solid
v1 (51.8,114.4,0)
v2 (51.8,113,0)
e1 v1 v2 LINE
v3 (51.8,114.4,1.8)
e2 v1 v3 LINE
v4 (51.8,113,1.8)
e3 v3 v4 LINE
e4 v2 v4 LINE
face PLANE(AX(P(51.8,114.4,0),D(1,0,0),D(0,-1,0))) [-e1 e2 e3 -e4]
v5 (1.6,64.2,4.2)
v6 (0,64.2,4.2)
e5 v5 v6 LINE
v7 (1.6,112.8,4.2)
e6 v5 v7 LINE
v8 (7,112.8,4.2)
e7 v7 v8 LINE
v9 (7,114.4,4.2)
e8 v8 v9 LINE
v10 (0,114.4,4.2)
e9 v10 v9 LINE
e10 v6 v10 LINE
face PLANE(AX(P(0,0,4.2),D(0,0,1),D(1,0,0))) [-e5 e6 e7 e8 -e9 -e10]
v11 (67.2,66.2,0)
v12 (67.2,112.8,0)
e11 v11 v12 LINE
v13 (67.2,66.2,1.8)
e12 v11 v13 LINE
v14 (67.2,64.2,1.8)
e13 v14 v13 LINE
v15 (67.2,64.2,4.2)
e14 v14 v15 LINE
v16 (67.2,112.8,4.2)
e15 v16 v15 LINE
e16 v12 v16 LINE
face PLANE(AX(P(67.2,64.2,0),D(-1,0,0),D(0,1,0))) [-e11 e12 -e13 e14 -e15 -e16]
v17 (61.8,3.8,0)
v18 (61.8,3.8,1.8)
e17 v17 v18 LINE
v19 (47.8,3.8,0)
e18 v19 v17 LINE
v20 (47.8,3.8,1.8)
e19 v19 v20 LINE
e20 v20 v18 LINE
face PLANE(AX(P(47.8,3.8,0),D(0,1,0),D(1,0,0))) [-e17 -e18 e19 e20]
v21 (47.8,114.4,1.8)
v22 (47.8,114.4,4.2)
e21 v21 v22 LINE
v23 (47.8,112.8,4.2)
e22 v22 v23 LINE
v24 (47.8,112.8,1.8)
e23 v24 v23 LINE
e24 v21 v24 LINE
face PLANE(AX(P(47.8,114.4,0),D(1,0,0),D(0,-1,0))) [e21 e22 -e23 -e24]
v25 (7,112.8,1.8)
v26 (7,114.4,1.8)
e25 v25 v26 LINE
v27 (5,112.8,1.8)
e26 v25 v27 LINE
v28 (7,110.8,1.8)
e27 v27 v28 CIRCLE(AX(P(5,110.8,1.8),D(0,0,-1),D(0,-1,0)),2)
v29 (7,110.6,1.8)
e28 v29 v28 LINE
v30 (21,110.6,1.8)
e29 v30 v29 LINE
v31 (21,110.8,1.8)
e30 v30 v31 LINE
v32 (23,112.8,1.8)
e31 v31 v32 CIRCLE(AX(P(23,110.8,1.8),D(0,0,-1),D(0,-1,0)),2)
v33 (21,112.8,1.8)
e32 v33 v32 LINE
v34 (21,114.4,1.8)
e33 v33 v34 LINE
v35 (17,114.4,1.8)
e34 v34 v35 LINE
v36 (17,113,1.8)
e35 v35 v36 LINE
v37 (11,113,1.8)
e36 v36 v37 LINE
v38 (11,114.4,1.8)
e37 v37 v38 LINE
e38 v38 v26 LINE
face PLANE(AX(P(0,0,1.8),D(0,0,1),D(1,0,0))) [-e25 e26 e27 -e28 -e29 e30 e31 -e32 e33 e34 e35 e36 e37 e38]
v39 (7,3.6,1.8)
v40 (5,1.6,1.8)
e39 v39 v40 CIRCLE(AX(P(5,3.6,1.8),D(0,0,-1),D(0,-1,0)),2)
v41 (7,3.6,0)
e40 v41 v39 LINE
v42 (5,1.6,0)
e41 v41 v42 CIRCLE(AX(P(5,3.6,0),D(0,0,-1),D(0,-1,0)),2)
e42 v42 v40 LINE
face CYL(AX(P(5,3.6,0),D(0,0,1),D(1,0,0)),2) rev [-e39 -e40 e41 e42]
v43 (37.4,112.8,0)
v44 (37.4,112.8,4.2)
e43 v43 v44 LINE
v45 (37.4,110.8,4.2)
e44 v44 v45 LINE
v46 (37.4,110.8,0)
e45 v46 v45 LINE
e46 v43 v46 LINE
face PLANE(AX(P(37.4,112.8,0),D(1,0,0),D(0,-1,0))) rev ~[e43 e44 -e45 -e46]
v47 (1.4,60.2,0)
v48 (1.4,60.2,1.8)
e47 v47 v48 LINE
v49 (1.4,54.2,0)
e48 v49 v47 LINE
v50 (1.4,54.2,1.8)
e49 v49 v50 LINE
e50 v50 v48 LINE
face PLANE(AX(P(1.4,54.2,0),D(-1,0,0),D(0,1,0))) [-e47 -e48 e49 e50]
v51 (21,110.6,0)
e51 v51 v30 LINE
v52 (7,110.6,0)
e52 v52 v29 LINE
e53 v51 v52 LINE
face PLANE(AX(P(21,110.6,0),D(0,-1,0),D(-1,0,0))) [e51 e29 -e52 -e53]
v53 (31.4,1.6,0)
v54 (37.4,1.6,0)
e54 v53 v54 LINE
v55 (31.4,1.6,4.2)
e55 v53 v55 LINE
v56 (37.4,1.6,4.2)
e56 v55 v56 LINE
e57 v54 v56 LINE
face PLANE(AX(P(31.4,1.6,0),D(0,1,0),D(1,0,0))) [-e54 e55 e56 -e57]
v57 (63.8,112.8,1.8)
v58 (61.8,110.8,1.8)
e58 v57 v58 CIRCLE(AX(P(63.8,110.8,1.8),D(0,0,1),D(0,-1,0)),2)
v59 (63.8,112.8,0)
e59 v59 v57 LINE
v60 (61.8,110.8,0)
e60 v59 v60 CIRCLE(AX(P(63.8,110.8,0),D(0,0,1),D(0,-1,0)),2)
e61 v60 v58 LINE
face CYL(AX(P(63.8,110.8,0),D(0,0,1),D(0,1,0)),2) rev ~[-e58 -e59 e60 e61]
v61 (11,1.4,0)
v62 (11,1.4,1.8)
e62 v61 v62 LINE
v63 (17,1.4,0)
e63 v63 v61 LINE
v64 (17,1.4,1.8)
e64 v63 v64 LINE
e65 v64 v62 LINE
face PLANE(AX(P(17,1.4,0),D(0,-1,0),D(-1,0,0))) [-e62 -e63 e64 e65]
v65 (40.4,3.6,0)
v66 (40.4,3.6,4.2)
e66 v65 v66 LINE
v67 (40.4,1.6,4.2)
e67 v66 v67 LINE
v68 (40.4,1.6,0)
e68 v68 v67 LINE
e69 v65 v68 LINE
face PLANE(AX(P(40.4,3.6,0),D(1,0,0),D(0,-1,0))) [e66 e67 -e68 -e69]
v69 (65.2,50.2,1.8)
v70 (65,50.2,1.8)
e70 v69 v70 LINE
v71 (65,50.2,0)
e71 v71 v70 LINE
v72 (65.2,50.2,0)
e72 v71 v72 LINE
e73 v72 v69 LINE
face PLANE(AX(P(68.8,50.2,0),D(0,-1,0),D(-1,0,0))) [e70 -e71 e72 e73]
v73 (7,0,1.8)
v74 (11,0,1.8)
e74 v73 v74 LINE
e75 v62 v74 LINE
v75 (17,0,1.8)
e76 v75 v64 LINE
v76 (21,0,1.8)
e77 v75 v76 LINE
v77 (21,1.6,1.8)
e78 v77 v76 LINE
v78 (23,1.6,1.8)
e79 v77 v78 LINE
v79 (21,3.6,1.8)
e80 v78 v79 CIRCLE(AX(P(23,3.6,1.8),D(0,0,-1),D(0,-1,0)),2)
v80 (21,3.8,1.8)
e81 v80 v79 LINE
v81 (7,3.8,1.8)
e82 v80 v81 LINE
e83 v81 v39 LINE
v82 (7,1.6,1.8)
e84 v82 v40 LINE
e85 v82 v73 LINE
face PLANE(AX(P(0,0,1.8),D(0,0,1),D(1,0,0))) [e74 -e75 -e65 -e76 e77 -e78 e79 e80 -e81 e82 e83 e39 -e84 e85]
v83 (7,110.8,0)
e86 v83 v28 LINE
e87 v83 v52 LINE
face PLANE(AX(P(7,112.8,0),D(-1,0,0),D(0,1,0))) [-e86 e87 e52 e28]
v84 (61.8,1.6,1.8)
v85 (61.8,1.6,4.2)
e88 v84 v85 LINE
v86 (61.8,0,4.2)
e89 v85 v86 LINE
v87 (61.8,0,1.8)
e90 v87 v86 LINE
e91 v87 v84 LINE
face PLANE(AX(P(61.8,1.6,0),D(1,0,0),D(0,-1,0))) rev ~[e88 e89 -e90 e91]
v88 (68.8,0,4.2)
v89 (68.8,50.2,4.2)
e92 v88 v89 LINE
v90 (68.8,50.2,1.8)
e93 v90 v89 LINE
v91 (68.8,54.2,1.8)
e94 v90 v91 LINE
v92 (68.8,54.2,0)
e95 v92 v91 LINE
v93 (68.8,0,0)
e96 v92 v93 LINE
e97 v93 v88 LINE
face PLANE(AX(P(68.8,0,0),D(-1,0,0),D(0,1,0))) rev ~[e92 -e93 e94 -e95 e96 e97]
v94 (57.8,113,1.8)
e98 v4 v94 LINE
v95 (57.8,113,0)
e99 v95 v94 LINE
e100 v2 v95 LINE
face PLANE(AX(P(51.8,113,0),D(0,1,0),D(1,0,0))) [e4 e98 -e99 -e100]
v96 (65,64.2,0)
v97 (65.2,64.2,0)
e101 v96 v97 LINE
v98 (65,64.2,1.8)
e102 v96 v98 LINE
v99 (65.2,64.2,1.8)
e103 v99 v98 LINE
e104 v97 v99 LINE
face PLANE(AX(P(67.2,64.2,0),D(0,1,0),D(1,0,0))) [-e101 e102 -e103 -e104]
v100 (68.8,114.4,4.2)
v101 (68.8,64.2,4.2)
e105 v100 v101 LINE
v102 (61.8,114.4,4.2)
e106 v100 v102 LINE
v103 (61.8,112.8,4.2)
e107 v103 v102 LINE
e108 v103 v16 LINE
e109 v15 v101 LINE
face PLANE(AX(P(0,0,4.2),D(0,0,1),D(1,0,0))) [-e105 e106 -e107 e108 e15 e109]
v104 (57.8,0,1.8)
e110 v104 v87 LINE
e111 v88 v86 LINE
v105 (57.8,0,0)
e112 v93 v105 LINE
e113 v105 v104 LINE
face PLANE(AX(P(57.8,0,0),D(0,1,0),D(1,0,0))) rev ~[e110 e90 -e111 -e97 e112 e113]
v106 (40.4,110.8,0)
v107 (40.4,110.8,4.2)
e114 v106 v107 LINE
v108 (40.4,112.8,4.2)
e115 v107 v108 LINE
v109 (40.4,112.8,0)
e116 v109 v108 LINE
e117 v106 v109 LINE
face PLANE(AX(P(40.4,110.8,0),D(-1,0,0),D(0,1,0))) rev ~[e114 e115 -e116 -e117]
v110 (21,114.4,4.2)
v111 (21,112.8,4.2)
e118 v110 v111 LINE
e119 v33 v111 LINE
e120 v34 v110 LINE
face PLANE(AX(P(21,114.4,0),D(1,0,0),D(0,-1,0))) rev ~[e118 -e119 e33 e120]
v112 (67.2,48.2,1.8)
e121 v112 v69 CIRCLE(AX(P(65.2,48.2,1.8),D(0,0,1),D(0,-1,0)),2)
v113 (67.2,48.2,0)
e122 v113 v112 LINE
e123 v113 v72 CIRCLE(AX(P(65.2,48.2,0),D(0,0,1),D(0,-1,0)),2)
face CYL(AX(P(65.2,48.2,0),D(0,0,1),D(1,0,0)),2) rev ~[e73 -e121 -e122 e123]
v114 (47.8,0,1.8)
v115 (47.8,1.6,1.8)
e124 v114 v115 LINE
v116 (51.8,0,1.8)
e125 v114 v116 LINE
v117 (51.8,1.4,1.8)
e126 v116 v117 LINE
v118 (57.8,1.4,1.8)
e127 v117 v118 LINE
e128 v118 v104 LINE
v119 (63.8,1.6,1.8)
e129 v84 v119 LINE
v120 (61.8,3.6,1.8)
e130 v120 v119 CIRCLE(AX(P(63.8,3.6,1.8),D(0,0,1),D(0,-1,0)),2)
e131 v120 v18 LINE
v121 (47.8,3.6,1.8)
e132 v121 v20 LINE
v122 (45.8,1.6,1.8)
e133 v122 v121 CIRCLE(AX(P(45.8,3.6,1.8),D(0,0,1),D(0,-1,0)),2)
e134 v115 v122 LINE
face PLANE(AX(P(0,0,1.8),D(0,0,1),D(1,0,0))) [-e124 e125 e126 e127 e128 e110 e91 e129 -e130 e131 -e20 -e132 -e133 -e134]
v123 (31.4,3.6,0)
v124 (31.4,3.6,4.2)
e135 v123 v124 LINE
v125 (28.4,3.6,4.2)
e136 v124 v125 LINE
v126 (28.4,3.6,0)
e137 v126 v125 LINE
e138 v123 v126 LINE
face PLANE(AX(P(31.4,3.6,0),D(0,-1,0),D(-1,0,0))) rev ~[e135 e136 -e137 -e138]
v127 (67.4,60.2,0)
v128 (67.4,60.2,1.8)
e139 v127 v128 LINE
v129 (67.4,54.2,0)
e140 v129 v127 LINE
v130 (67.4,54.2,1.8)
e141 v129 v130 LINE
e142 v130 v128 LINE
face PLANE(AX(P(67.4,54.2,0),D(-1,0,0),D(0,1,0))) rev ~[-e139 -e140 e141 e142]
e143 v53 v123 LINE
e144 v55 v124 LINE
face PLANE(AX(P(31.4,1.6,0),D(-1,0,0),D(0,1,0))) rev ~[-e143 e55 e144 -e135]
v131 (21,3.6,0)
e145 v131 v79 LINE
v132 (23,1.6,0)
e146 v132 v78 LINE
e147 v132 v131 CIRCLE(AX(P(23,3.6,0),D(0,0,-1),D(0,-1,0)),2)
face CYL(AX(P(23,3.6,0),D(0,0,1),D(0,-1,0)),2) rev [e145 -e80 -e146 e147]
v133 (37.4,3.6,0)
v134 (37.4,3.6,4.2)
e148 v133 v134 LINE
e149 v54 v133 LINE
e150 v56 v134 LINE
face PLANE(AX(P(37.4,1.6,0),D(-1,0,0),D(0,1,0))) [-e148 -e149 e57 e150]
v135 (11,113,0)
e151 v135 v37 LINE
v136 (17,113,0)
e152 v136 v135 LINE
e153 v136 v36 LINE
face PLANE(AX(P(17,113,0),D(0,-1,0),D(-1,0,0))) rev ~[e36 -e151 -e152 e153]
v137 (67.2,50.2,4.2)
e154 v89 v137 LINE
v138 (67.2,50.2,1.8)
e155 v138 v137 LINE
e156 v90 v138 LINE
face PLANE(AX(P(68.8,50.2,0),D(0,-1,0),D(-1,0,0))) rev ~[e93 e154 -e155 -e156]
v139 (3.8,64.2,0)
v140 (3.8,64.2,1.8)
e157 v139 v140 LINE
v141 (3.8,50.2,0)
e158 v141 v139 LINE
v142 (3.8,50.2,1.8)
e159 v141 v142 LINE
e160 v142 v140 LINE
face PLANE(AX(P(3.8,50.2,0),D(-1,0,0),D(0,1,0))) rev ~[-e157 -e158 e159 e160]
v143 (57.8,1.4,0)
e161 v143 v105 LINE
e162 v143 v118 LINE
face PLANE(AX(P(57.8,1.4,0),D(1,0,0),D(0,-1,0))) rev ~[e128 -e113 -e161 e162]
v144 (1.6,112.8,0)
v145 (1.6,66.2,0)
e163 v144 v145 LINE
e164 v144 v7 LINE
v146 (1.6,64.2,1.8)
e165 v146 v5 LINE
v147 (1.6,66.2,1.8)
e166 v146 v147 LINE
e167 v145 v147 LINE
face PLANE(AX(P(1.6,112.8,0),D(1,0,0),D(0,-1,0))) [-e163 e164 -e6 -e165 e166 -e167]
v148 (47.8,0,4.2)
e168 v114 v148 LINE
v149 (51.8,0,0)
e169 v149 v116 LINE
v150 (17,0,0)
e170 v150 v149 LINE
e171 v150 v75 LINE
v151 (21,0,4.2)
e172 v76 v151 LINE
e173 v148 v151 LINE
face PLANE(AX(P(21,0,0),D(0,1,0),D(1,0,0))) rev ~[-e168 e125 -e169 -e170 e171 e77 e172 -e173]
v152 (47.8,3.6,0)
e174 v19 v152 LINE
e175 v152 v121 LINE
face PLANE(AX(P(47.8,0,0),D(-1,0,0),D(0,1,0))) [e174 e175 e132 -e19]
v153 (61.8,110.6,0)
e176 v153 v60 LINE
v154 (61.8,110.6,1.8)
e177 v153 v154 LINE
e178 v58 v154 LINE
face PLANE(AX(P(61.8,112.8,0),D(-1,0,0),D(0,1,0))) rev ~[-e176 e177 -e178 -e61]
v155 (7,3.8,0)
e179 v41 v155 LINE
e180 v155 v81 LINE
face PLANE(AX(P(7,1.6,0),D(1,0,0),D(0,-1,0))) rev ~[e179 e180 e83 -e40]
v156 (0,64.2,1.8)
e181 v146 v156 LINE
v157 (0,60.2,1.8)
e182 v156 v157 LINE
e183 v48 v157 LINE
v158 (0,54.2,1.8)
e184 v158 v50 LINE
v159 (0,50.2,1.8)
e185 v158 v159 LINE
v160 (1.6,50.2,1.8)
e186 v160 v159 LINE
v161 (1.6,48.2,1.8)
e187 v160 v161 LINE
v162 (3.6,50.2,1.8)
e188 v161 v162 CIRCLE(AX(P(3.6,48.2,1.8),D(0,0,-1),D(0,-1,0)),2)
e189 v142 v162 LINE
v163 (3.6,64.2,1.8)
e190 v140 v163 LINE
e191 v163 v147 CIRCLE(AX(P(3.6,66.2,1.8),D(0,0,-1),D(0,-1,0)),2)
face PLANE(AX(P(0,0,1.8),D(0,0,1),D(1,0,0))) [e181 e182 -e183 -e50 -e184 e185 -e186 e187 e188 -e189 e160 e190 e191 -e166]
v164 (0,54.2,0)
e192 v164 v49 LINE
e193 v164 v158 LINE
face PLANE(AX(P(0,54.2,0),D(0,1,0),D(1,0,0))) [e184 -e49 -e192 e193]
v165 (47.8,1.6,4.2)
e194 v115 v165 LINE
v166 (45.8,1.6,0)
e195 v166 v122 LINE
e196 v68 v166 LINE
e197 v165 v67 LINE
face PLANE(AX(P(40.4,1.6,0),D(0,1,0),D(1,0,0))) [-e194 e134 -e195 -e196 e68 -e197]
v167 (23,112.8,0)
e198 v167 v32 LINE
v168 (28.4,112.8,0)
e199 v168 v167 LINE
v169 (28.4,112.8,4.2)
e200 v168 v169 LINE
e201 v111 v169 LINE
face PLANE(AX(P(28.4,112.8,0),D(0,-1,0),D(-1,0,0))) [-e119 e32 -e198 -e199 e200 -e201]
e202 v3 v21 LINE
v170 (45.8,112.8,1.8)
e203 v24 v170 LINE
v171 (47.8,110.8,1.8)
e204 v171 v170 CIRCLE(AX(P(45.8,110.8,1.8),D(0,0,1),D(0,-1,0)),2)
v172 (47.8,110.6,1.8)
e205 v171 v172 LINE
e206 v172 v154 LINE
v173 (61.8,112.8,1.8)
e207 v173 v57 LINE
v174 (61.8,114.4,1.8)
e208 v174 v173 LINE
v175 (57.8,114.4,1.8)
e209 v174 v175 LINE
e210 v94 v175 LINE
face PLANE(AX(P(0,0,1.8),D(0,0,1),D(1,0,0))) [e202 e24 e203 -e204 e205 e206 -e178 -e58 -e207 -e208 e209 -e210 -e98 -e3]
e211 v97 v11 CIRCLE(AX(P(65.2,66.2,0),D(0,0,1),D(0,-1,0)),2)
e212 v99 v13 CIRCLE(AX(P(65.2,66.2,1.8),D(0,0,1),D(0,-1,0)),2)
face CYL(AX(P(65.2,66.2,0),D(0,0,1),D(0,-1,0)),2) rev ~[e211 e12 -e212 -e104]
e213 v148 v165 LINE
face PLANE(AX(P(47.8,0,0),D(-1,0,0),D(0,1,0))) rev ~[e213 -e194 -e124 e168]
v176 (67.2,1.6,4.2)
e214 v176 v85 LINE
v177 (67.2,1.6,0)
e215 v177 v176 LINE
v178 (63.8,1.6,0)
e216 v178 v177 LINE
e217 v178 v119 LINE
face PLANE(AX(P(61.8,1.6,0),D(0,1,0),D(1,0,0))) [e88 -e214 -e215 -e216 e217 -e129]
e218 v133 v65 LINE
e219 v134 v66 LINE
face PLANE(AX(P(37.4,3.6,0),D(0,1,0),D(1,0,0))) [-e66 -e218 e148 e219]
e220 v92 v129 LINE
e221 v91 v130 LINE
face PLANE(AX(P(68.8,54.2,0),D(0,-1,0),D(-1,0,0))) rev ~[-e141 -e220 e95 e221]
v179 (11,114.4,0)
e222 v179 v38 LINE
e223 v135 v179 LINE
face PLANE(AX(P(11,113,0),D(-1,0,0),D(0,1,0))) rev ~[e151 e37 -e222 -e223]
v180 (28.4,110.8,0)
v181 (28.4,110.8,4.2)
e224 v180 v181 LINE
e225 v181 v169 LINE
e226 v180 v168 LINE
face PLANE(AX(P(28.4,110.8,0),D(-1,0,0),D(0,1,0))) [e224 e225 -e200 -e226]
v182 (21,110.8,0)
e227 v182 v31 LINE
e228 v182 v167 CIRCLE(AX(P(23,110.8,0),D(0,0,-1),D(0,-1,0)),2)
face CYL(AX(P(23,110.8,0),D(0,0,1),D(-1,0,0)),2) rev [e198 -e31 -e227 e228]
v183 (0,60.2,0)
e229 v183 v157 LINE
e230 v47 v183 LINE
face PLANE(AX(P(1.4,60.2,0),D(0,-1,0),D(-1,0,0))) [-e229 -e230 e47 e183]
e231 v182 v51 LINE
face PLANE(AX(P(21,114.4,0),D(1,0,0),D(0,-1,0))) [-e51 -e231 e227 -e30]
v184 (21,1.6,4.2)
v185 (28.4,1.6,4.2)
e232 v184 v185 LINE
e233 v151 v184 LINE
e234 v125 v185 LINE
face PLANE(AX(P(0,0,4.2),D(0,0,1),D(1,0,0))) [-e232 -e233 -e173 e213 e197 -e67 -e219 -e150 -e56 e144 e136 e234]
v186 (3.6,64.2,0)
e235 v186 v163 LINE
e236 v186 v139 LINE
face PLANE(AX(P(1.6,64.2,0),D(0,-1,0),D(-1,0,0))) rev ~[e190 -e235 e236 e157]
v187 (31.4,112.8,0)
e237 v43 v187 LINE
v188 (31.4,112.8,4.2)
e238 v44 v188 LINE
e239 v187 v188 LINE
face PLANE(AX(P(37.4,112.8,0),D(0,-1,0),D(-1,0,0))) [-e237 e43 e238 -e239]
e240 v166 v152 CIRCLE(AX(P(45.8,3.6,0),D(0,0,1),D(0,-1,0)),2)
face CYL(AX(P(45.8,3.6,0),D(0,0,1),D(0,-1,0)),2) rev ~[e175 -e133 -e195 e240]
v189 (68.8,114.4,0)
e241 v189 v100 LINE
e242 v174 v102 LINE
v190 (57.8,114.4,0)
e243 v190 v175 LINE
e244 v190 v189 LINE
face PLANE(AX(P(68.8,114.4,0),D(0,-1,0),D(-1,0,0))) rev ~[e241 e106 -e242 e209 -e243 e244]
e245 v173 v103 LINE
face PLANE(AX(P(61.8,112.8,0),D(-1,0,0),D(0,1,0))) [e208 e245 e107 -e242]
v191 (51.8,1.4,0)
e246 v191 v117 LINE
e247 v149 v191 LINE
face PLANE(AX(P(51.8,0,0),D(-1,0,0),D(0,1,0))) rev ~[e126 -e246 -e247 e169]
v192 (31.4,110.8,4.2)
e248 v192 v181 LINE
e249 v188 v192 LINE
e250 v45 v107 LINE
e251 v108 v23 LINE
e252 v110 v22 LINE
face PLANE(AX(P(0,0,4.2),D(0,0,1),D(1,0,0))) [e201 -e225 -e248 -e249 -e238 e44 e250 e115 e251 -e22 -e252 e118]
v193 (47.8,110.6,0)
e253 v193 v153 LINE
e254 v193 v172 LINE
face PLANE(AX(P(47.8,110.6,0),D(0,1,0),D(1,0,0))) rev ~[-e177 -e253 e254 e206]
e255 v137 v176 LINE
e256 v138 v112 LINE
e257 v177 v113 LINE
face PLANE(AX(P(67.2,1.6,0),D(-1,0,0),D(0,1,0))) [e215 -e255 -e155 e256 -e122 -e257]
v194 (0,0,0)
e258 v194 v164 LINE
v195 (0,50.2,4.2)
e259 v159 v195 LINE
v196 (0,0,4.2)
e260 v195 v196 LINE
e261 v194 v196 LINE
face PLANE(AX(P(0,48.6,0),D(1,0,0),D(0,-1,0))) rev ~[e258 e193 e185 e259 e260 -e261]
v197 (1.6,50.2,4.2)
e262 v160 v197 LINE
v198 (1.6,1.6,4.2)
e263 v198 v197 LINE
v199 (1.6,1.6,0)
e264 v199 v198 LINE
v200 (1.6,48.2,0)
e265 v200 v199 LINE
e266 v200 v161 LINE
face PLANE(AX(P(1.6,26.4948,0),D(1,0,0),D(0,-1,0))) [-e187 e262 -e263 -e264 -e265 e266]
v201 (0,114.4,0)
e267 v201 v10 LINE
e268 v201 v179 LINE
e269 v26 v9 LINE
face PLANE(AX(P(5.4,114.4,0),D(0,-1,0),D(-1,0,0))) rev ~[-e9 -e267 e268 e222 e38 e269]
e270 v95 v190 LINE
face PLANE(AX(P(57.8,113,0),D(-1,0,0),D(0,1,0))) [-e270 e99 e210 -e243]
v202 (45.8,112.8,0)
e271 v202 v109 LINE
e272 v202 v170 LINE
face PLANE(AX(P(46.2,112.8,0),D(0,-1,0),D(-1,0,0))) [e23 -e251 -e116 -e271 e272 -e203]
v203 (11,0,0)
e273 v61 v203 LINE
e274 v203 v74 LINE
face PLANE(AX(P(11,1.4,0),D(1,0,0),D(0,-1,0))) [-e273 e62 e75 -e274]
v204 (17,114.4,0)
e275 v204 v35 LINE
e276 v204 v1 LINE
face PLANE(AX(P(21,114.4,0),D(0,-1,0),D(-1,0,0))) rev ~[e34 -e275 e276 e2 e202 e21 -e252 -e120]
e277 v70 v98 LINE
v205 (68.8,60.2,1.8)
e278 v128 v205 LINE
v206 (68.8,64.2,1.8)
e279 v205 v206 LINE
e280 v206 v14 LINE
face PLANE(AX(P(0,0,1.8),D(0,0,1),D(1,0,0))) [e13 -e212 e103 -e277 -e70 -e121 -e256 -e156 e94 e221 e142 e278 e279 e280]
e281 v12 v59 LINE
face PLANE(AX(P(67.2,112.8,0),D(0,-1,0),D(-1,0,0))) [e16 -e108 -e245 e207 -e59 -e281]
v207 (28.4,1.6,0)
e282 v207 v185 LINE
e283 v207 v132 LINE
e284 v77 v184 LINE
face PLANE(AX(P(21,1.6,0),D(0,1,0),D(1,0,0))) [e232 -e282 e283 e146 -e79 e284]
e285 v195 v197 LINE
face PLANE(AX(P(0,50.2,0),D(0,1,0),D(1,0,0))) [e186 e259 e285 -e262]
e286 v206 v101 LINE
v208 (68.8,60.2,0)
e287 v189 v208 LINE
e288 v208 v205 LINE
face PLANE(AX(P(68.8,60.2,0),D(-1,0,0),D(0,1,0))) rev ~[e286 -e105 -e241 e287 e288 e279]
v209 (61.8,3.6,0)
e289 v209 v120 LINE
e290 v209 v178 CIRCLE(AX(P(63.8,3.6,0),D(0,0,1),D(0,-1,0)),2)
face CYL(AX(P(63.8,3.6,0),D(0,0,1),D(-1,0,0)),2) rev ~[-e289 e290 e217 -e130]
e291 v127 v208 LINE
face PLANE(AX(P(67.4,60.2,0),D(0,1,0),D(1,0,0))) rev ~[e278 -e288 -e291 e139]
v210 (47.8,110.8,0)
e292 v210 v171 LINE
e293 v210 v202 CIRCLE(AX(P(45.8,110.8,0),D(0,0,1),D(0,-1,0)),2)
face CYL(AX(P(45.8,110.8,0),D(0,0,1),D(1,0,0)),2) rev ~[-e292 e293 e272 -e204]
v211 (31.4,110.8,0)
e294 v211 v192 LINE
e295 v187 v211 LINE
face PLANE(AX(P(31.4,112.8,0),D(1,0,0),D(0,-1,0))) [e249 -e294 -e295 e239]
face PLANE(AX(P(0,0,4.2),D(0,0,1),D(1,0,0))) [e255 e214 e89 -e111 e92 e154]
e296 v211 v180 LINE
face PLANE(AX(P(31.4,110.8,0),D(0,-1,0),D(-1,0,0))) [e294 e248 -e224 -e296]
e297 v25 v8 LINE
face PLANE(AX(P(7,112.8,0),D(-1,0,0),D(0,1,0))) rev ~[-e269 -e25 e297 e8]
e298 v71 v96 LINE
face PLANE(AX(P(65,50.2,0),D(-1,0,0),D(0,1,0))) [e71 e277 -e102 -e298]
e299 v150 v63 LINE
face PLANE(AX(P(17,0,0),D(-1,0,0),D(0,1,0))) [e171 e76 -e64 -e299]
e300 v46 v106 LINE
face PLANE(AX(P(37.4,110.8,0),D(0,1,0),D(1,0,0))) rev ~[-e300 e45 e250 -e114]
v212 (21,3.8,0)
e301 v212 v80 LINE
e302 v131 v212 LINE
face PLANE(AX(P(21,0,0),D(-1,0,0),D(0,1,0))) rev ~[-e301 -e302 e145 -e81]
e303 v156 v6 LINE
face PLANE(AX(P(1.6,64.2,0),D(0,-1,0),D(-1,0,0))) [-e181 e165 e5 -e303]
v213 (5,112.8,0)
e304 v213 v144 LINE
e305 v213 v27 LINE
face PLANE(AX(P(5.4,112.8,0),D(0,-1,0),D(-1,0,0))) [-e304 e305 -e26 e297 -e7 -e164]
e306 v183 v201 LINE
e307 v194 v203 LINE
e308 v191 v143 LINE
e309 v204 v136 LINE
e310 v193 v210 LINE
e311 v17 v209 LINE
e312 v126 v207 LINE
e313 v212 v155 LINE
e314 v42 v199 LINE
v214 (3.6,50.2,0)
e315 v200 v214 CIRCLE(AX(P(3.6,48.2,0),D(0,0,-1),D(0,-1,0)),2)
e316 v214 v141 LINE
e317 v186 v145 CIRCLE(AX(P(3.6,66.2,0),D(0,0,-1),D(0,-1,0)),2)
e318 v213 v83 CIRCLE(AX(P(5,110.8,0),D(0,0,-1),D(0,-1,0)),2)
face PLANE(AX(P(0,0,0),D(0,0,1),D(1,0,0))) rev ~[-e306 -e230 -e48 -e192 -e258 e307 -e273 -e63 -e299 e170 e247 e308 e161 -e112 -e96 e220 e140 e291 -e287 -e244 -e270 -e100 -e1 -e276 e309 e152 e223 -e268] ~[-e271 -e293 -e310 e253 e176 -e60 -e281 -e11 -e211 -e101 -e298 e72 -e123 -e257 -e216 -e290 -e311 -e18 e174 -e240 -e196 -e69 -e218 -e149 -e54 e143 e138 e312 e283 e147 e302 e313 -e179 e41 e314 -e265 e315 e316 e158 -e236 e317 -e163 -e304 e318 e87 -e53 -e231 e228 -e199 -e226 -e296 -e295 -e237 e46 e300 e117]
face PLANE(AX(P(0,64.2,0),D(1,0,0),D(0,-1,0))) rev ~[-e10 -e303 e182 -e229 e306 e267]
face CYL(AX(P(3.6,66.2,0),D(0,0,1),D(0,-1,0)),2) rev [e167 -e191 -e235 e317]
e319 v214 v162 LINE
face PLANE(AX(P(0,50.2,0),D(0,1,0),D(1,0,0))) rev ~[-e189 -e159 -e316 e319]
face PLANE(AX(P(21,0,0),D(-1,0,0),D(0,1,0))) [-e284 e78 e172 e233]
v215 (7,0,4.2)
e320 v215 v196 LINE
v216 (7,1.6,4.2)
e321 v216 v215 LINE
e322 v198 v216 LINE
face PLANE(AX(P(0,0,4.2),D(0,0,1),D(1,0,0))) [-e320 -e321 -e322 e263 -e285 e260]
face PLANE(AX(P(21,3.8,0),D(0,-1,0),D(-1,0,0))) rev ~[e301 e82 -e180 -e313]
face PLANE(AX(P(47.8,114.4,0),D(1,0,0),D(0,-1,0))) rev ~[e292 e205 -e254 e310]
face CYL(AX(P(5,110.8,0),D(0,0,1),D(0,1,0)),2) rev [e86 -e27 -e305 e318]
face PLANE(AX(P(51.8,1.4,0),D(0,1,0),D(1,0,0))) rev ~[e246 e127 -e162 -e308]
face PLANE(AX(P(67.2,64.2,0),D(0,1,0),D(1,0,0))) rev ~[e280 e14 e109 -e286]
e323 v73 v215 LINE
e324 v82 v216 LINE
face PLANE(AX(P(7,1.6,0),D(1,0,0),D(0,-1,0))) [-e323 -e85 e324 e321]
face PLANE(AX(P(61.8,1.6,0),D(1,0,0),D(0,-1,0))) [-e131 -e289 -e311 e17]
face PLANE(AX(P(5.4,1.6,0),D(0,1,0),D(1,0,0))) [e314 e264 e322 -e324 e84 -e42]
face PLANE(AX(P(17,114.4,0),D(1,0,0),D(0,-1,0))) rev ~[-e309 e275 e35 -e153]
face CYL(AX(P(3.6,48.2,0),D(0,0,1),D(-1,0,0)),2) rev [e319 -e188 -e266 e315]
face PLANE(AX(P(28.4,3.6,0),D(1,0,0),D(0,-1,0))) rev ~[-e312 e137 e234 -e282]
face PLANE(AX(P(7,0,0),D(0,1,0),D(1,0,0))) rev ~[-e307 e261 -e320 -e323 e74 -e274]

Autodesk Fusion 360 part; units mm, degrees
sketch "Sketch1" plane through (0, 0, 0) normal (0, 0, 1) x (1, 0, 0)
  line L0 (21, 0) -> (21, 3.8)
  line L1 (21, 3.8) -> (7, 3.8)
  line L2 (7, 3.8) -> (7, 0)
  line L3 (17, 0) -> (17, 1.4)
  line L4 (17, 1.4) -> (11, 1.4)
  line L5 (11, 1.4) -> (11, 0)
  line L6 (0, 57.2) -> (68.8, 57.2) construction
  line L7 (34.4, 114.4) -> (34.4, 0) construction
  line L8 (47.8, 0) -> (47.8, 3.8)
  line L9 (47.8, 3.8) -> (61.8, 3.8)
  line L10 (61.8, 3.8) -> (61.8, 0)
  line L11 (51.8, 1.4) -> (57.8, 1.4)
  line L12 (57.8, 1.4) -> (57.8, 0)
  line L13 (51.8, 0) -> (51.8, 1.4)
  line L14 (7, 110.6) -> (7, 114.4)
  line L15 (21, 110.6) -> (7, 110.6)
  line L16 (21, 114.4) -> (21, 110.6)
  line L17 (17, 113) -> (11, 113)
  line L18 (11, 113) -> (11, 114.4)
  line L19 (17, 114.4) -> (17, 113)
  line L20 (47.8, 114.4) -> (47.8, 110.6)
  line L21 (47.8, 110.6) -> (61.8, 110.6)
  line L22 (51.8, 113) -> (57.8, 113)
  line L23 (51.8, 114.4) -> (51.8, 113)
  line L24 (57.8, 113) -> (57.8, 114.4)
  line L25 (61.8, 110.6) -> (61.8, 114.4)
  line L26 (68.8, 54.2) -> (67.4, 54.2)
  line L27 (67.4, 54.2) -> (67.4, 60.2)
  line L28 (67.4, 60.2) -> (68.8, 60.2)
  line L29 (68.8, 50.2) -> (65, 50.2)
  line L30 (65, 50.2) -> (65, 64.2)
  line L31 (65, 64.2) -> (68.8, 64.2)
  line L32 (3.8, 64.2) -> (0, 64.2)
  line L33 (3.8, 50.2) -> (3.8, 64.2)
  line L34 (0, 50.2) -> (3.8, 50.2)
  line L35 (0, 54.2) -> (1.4, 54.2)
  line L36 (1.4, 54.2) -> (1.4, 60.2)
  line L37 (1.4, 60.2) -> (0, 60.2)
  line L38 (7, 0) -> (11, 0)
  line L39 (17, 0) -> (21, 0)
  line L40 (0, 0) -> (11, 0)
  line L41 (17, 0) -> (51.8, 0)
  line L42 (57.8, 0) -> (68.8, 0)
  line L43 (68.8, 0) -> (68.8, 54.2)
  line L44 (68.8, 60.2) -> (68.8, 114.4)
  line L45 (68.8, 64.2) -> (68.8, 60.2)
  line L46 (68.8, 54.2) -> (68.8, 50.2)
  line L47 (0, 114.4) -> (0, 60.2)
  line L48 (0, 54.2) -> (0, 0)
  line L49 (11, 114.4) -> (0, 114.4)
  line L50 (68.8, 114.4) -> (57.8, 114.4)
  line L51 (51.8, 114.4) -> (17, 114.4)
  line L52 (18.6, 1.6) -> (50.2, 1.6)
  line L53 (50.2, 1.6) -> (50.2, 3)
  line L54 (50.2, 3) -> (59.4, 3)
  line L55 (59.4, 3) -> (59.4, 1.6)
  line L56 (59.4, 1.6) -> (67.2, 1.6)
  line L57 (67.2, 1.6) -> (67.2, 52.6)
  line L58 (67.2, 52.6) -> (65.8, 52.6)
  line L59 (65.8, 52.6) -> (65.8, 61.8)
  line L60 (65.8, 61.8) -> (67.2, 61.8)
  line L61 (67.2, 61.8) -> (67.2, 112.8)
  line L62 (67.2, 112.8) -> (59.4, 112.8)
  line L63 (18.6, 1.6) -> (18.6, 3)
  line L64 (18.6, 3) -> (9.4, 3)
  line L65 (9.4, 3) -> (9.4, 1.6)
  line L66 (8.5, 1.6) -> (9.4, 1.6)
  line L67 (1.6, 52.6) -> (1.6, 1.6)
  line L68 (1.6, 1.6) -> (9.4, 1.6)
  line L69 (1.6, 52.6) -> (3, 52.6)
  line L70 (3, 52.6) -> (3, 61.8)
  line L71 (3, 61.8) -> (1.6, 61.8)
  line L72 (1.6, 112.8) -> (1.6, 61.8)
  line L73 (67.2, 112.8) -> (59.4, 112.8)
  line L74 (59.4, 111.4) -> (59.4, 112.8)
  line L75 (50.2, 111.4) -> (59.4, 111.4)
  line L76 (50.2, 112.8) -> (50.2, 111.4)
  line L77 (50.2, 112.8) -> (18.6, 112.8)
  line L78 (18.6, 112.8) -> (18.6, 111.4)
  line L79 (18.6, 111.4) -> (9.4, 111.4)
  line L80 (9.4, 111.4) -> (9.4, 112.8)
  line L81 (9.4, 112.8) -> (1.6, 112.8)
  line L82 (22.6, 114.4) -> (22.6, 109)
  line L83 (22.6, 109) -> (5.4, 109)
  line L84 (5.4, 109) -> (5.4, 114.4)
  line L85 (46.2, 114.4) -> (46.2, 109)
  line L86 (46.2, 109) -> (63.4, 109)
  line L87 (63.4, 109) -> (63.4, 114.4)
  line L88 (68.8, 48.6) -> (63.4, 48.6)
  line L89 (63.4, 48.6) -> (63.4, 65.8)
  line L90 (63.4, 65.8) -> (68.8, 65.8)
  line L91 (46.2, 0) -> (46.2, 5.4)
  line L92 (46.2, 5.4) -> (63.4, 5.4)
  line L93 (63.4, 5.4) -> (63.4, 0)
  line L94 (22.6, 0) -> (22.6, 5.4)
  line L95 (22.6, 5.4) -> (5.4, 5.4)
  line L96 (5.4, 5.4) -> (5.4, 0)
  line L97 (0, 48.6) -> (5.4, 48.6)
  line L98 (5.4, 48.6) -> (5.4, 65.8)
  line L99 (5.4, 65.8) -> (0, 65.8)
  line L100 (1.6, 29.4948) -> (3.6, 29.4948)
  line L101 (3.6, 29.4948) -> (3.6, 26.4948)
  line L102 (3.6, 26.4948) -> (1.6, 26.4948)
  line L103 (1.6, 26.4948) -> (1.6, 29.4948)
  line L104 (67.2, 29.4948) -> (65.2, 29.4948)
  line L105 (65.2, 29.4948) -> (65.2, 26.4948)
  line L106 (65.2, 26.4948) -> (67.2, 26.4948)
  line L107 (67.2, 84.9052) -> (65.2, 84.9052)
  line L108 (65.2, 84.9052) -> (65.2, 87.9052)
  line L109 (65.2, 87.9052) -> (67.2, 87.9052)
  line L110 (3.6, 84.9052) -> (3.6, 87.9052)
  line L111 (1.6, 84.9052) -> (3.6, 84.9052)
  line L112 (3.6, 87.9052) -> (1.6, 87.9052)
  line L113 (28.4, 112.8) -> (31.4, 112.8)
  line L114 (31.4, 112.8) -> (31.4, 110.8)
  line L115 (31.4, 110.8) -> (28.4, 110.8)
  line L116 (28.4, 110.8) -> (28.4, 112.8)
  line L117 (28.4, 3.6) -> (28.4, 1.6)
  line L118 (31.4, 3.6) -> (28.4, 3.6)
  line L119 (31.4, 1.6) -> (31.4, 3.6)
  line L120 (37.4, 110.8) -> (40.4, 110.8)
  line L121 (40.4, 110.8) -> (40.4, 112.8)
  line L122 (37.4, 112.8) -> (37.4, 110.8)
  line L123 (37.4, 1.6) -> (37.4, 3.6)
  line L124 (37.4, 3.6) -> (40.4, 3.6)
  line L125 (40.4, 3.6) -> (40.4, 1.6)
  point P0 (14, 0)
  point P1 (14, 0)
  point P2 (7, 0)
  point P3 (14, 0)
  point P4 (68.8, 50.2)
  dimension "d10" = 68.8
  dimension "d11" = 114.4
  dimension "d12" = 14
  dimension "d13" = 7
  dimension "d14" = 3
  dimension "d15" = 14
  dimension "d16" = 3.8
  dimension "d17" = 6
  dimension "d18" = 1.4
  dimension "d19" = 3
  dimension "d20" = 7
  dimension "d21" = 1.4
  dimension "d22" = 6
  dimension "d23" = 3.8
  dimension "d24" = 14
  dimension "d30" = -1.6
  dimension "d31" = 1.6
  dimension "d32" = -1.6
  dimension "d33" = -1.6
  dimension "d34" = 1.6
  dimension "d35" = 1.6
  dimension "d36" = 2
  dimension "d37" = 3
  dimension "d38" = 3
  dimension "d39" = 2
  dimension "d40" = 6
extrude "Extrude1" add sketch "Sketch1" along normal blind 4.2 contours L0 L41 L52 L94 | L41 L52 L91 L94 | L8 L41 L52 L91 | L52 L117 L118 L119 | L2 L40 L68 L96 | L52 L123 L124 L125 | L40 L48 L67 L68 L96 L97 L103 | L10 L42 L56 L93 | L42 L43 L56 L57 L88 L93 | L34 L48 L67 L97 | L29 L43 L57 L88 | L47 L49 L72 L81 L84 L99 | L32 L47 L72 L99 | L31 L44 L61 L90 | L44 L50 L61 L62 L73 L87 L90 | L14 L49 L81 L84 | L25 L50 L62 L73 L87 | L51 L77 L82 L85 L113 | L16 L51 L77 L82 | L77 L113 L114 L115 L116 | L20 L51 L77 L85 | L77 L120 L121 L122 makes body 1 at (29.9333, 0, 2.8) makes body 2 at (68.8, 16.7333, 2.8) makes body 3 at (0, 33.4667, 2.8) makes body 4 at (38.8667, 114.4, 1.4) makes body 5 at (68.8, 80.9333, 1.4) makes body 6 at (0, 97.6667, 1.4)
extrude "Extrude2" add sketch "Sketch1" along normal blind 1.8 contours L0 L2 L3 L4 L5 L38 L39 L40 L41 L52 L63 L64 L65 L66 L68 | L0 L1 L2 L52 L63 L64 L65 L66 L68 | L8 L10 L11 L12 L13 L41 L42 L52 L53 L54 L55 L56 | L8 L9 L10 L52 L53 L54 L55 L56 | L32 L34 L35 L36 L37 L47 L48 L67 L69 L70 L71 L72 | L32 L33 L34 L67 L69 L70 L71 L72 | L26 L27 L28 L29 L31 L43 L44 L45 L46 L57 L58 L59 L60 L61 | L29 L30 L31 L57 L58 L59 L60 L61 | L14 L16 L17 L18 L19 L49 L51 L77 L78 L79 L80 L81 | L14 L15 L16 L77 L78 L79 L80 L81 | L20 L22 L23 L24 L25 L50 L51 L62 L73 L74 L75 L76 L77 | L20 L21 L25 L62 L73 L74 L75 L76 L77 bodies 1 5 2 4 3 6
fillet "Fillet1" radius 2 4 edges at (7, 112.8, 0.9) (21, 112.8, 0.9) (47.8, 112.8, 0.9) (61.8, 112.8, 0.9) on bodies 1
fillet "Fillet1" radius 2 8 edges at (61.8, 1.6, 0.9) (21, 1.6, 0.9) (67.2, 64.2, 0.9) (47.8, 1.6, 0.9) (7, 1.6, 0.9) (67.2, 50.2, 0.9) (1.6, 50.2, 0.9) (1.6, 64.2, 0.9) on bodies 1
ref_plane "WorkPlane1" through (0, 57.2, 0) normal (0, 1, 0) x (0, 0, 1)
equation "width = 68.8 mm"
equation "height = 114.4 mm"
equation "depth = 4.2 mm"
equation "inner_depth = 1.6 mm"
equation "insets_width = 14 mm"
equation "insets_height = 3.8 mm"
equation "insets_niche_depth = 1.4 mm"
equation "insets_niche_width = 6 mm"
equation "insets_topbot_center_from_edge = 14 mm"
equation "d10 = width"
equation "d11 = height"
equation "d12 = insets_topbot_center_from_edge"
equation "d13 = insets_width / 2"
equation "d14 = insets_niche_width / 2"
equation "d15 = insets_width"
equation "d16 = insets_height"
equation "d17 = insets_niche_width"
equation "d18 = insets_niche_depth"
equation "d19 = insets_niche_width / 2"
equation "d20 = insets_width / 2"
equation "d21 = insets_niche_depth"
equation "d22 = insets_niche_width"
equation "d23 = insets_height"
equation "d24 = insets_width"
equation "d41 = depth"
equation "d49 = height / 2"
